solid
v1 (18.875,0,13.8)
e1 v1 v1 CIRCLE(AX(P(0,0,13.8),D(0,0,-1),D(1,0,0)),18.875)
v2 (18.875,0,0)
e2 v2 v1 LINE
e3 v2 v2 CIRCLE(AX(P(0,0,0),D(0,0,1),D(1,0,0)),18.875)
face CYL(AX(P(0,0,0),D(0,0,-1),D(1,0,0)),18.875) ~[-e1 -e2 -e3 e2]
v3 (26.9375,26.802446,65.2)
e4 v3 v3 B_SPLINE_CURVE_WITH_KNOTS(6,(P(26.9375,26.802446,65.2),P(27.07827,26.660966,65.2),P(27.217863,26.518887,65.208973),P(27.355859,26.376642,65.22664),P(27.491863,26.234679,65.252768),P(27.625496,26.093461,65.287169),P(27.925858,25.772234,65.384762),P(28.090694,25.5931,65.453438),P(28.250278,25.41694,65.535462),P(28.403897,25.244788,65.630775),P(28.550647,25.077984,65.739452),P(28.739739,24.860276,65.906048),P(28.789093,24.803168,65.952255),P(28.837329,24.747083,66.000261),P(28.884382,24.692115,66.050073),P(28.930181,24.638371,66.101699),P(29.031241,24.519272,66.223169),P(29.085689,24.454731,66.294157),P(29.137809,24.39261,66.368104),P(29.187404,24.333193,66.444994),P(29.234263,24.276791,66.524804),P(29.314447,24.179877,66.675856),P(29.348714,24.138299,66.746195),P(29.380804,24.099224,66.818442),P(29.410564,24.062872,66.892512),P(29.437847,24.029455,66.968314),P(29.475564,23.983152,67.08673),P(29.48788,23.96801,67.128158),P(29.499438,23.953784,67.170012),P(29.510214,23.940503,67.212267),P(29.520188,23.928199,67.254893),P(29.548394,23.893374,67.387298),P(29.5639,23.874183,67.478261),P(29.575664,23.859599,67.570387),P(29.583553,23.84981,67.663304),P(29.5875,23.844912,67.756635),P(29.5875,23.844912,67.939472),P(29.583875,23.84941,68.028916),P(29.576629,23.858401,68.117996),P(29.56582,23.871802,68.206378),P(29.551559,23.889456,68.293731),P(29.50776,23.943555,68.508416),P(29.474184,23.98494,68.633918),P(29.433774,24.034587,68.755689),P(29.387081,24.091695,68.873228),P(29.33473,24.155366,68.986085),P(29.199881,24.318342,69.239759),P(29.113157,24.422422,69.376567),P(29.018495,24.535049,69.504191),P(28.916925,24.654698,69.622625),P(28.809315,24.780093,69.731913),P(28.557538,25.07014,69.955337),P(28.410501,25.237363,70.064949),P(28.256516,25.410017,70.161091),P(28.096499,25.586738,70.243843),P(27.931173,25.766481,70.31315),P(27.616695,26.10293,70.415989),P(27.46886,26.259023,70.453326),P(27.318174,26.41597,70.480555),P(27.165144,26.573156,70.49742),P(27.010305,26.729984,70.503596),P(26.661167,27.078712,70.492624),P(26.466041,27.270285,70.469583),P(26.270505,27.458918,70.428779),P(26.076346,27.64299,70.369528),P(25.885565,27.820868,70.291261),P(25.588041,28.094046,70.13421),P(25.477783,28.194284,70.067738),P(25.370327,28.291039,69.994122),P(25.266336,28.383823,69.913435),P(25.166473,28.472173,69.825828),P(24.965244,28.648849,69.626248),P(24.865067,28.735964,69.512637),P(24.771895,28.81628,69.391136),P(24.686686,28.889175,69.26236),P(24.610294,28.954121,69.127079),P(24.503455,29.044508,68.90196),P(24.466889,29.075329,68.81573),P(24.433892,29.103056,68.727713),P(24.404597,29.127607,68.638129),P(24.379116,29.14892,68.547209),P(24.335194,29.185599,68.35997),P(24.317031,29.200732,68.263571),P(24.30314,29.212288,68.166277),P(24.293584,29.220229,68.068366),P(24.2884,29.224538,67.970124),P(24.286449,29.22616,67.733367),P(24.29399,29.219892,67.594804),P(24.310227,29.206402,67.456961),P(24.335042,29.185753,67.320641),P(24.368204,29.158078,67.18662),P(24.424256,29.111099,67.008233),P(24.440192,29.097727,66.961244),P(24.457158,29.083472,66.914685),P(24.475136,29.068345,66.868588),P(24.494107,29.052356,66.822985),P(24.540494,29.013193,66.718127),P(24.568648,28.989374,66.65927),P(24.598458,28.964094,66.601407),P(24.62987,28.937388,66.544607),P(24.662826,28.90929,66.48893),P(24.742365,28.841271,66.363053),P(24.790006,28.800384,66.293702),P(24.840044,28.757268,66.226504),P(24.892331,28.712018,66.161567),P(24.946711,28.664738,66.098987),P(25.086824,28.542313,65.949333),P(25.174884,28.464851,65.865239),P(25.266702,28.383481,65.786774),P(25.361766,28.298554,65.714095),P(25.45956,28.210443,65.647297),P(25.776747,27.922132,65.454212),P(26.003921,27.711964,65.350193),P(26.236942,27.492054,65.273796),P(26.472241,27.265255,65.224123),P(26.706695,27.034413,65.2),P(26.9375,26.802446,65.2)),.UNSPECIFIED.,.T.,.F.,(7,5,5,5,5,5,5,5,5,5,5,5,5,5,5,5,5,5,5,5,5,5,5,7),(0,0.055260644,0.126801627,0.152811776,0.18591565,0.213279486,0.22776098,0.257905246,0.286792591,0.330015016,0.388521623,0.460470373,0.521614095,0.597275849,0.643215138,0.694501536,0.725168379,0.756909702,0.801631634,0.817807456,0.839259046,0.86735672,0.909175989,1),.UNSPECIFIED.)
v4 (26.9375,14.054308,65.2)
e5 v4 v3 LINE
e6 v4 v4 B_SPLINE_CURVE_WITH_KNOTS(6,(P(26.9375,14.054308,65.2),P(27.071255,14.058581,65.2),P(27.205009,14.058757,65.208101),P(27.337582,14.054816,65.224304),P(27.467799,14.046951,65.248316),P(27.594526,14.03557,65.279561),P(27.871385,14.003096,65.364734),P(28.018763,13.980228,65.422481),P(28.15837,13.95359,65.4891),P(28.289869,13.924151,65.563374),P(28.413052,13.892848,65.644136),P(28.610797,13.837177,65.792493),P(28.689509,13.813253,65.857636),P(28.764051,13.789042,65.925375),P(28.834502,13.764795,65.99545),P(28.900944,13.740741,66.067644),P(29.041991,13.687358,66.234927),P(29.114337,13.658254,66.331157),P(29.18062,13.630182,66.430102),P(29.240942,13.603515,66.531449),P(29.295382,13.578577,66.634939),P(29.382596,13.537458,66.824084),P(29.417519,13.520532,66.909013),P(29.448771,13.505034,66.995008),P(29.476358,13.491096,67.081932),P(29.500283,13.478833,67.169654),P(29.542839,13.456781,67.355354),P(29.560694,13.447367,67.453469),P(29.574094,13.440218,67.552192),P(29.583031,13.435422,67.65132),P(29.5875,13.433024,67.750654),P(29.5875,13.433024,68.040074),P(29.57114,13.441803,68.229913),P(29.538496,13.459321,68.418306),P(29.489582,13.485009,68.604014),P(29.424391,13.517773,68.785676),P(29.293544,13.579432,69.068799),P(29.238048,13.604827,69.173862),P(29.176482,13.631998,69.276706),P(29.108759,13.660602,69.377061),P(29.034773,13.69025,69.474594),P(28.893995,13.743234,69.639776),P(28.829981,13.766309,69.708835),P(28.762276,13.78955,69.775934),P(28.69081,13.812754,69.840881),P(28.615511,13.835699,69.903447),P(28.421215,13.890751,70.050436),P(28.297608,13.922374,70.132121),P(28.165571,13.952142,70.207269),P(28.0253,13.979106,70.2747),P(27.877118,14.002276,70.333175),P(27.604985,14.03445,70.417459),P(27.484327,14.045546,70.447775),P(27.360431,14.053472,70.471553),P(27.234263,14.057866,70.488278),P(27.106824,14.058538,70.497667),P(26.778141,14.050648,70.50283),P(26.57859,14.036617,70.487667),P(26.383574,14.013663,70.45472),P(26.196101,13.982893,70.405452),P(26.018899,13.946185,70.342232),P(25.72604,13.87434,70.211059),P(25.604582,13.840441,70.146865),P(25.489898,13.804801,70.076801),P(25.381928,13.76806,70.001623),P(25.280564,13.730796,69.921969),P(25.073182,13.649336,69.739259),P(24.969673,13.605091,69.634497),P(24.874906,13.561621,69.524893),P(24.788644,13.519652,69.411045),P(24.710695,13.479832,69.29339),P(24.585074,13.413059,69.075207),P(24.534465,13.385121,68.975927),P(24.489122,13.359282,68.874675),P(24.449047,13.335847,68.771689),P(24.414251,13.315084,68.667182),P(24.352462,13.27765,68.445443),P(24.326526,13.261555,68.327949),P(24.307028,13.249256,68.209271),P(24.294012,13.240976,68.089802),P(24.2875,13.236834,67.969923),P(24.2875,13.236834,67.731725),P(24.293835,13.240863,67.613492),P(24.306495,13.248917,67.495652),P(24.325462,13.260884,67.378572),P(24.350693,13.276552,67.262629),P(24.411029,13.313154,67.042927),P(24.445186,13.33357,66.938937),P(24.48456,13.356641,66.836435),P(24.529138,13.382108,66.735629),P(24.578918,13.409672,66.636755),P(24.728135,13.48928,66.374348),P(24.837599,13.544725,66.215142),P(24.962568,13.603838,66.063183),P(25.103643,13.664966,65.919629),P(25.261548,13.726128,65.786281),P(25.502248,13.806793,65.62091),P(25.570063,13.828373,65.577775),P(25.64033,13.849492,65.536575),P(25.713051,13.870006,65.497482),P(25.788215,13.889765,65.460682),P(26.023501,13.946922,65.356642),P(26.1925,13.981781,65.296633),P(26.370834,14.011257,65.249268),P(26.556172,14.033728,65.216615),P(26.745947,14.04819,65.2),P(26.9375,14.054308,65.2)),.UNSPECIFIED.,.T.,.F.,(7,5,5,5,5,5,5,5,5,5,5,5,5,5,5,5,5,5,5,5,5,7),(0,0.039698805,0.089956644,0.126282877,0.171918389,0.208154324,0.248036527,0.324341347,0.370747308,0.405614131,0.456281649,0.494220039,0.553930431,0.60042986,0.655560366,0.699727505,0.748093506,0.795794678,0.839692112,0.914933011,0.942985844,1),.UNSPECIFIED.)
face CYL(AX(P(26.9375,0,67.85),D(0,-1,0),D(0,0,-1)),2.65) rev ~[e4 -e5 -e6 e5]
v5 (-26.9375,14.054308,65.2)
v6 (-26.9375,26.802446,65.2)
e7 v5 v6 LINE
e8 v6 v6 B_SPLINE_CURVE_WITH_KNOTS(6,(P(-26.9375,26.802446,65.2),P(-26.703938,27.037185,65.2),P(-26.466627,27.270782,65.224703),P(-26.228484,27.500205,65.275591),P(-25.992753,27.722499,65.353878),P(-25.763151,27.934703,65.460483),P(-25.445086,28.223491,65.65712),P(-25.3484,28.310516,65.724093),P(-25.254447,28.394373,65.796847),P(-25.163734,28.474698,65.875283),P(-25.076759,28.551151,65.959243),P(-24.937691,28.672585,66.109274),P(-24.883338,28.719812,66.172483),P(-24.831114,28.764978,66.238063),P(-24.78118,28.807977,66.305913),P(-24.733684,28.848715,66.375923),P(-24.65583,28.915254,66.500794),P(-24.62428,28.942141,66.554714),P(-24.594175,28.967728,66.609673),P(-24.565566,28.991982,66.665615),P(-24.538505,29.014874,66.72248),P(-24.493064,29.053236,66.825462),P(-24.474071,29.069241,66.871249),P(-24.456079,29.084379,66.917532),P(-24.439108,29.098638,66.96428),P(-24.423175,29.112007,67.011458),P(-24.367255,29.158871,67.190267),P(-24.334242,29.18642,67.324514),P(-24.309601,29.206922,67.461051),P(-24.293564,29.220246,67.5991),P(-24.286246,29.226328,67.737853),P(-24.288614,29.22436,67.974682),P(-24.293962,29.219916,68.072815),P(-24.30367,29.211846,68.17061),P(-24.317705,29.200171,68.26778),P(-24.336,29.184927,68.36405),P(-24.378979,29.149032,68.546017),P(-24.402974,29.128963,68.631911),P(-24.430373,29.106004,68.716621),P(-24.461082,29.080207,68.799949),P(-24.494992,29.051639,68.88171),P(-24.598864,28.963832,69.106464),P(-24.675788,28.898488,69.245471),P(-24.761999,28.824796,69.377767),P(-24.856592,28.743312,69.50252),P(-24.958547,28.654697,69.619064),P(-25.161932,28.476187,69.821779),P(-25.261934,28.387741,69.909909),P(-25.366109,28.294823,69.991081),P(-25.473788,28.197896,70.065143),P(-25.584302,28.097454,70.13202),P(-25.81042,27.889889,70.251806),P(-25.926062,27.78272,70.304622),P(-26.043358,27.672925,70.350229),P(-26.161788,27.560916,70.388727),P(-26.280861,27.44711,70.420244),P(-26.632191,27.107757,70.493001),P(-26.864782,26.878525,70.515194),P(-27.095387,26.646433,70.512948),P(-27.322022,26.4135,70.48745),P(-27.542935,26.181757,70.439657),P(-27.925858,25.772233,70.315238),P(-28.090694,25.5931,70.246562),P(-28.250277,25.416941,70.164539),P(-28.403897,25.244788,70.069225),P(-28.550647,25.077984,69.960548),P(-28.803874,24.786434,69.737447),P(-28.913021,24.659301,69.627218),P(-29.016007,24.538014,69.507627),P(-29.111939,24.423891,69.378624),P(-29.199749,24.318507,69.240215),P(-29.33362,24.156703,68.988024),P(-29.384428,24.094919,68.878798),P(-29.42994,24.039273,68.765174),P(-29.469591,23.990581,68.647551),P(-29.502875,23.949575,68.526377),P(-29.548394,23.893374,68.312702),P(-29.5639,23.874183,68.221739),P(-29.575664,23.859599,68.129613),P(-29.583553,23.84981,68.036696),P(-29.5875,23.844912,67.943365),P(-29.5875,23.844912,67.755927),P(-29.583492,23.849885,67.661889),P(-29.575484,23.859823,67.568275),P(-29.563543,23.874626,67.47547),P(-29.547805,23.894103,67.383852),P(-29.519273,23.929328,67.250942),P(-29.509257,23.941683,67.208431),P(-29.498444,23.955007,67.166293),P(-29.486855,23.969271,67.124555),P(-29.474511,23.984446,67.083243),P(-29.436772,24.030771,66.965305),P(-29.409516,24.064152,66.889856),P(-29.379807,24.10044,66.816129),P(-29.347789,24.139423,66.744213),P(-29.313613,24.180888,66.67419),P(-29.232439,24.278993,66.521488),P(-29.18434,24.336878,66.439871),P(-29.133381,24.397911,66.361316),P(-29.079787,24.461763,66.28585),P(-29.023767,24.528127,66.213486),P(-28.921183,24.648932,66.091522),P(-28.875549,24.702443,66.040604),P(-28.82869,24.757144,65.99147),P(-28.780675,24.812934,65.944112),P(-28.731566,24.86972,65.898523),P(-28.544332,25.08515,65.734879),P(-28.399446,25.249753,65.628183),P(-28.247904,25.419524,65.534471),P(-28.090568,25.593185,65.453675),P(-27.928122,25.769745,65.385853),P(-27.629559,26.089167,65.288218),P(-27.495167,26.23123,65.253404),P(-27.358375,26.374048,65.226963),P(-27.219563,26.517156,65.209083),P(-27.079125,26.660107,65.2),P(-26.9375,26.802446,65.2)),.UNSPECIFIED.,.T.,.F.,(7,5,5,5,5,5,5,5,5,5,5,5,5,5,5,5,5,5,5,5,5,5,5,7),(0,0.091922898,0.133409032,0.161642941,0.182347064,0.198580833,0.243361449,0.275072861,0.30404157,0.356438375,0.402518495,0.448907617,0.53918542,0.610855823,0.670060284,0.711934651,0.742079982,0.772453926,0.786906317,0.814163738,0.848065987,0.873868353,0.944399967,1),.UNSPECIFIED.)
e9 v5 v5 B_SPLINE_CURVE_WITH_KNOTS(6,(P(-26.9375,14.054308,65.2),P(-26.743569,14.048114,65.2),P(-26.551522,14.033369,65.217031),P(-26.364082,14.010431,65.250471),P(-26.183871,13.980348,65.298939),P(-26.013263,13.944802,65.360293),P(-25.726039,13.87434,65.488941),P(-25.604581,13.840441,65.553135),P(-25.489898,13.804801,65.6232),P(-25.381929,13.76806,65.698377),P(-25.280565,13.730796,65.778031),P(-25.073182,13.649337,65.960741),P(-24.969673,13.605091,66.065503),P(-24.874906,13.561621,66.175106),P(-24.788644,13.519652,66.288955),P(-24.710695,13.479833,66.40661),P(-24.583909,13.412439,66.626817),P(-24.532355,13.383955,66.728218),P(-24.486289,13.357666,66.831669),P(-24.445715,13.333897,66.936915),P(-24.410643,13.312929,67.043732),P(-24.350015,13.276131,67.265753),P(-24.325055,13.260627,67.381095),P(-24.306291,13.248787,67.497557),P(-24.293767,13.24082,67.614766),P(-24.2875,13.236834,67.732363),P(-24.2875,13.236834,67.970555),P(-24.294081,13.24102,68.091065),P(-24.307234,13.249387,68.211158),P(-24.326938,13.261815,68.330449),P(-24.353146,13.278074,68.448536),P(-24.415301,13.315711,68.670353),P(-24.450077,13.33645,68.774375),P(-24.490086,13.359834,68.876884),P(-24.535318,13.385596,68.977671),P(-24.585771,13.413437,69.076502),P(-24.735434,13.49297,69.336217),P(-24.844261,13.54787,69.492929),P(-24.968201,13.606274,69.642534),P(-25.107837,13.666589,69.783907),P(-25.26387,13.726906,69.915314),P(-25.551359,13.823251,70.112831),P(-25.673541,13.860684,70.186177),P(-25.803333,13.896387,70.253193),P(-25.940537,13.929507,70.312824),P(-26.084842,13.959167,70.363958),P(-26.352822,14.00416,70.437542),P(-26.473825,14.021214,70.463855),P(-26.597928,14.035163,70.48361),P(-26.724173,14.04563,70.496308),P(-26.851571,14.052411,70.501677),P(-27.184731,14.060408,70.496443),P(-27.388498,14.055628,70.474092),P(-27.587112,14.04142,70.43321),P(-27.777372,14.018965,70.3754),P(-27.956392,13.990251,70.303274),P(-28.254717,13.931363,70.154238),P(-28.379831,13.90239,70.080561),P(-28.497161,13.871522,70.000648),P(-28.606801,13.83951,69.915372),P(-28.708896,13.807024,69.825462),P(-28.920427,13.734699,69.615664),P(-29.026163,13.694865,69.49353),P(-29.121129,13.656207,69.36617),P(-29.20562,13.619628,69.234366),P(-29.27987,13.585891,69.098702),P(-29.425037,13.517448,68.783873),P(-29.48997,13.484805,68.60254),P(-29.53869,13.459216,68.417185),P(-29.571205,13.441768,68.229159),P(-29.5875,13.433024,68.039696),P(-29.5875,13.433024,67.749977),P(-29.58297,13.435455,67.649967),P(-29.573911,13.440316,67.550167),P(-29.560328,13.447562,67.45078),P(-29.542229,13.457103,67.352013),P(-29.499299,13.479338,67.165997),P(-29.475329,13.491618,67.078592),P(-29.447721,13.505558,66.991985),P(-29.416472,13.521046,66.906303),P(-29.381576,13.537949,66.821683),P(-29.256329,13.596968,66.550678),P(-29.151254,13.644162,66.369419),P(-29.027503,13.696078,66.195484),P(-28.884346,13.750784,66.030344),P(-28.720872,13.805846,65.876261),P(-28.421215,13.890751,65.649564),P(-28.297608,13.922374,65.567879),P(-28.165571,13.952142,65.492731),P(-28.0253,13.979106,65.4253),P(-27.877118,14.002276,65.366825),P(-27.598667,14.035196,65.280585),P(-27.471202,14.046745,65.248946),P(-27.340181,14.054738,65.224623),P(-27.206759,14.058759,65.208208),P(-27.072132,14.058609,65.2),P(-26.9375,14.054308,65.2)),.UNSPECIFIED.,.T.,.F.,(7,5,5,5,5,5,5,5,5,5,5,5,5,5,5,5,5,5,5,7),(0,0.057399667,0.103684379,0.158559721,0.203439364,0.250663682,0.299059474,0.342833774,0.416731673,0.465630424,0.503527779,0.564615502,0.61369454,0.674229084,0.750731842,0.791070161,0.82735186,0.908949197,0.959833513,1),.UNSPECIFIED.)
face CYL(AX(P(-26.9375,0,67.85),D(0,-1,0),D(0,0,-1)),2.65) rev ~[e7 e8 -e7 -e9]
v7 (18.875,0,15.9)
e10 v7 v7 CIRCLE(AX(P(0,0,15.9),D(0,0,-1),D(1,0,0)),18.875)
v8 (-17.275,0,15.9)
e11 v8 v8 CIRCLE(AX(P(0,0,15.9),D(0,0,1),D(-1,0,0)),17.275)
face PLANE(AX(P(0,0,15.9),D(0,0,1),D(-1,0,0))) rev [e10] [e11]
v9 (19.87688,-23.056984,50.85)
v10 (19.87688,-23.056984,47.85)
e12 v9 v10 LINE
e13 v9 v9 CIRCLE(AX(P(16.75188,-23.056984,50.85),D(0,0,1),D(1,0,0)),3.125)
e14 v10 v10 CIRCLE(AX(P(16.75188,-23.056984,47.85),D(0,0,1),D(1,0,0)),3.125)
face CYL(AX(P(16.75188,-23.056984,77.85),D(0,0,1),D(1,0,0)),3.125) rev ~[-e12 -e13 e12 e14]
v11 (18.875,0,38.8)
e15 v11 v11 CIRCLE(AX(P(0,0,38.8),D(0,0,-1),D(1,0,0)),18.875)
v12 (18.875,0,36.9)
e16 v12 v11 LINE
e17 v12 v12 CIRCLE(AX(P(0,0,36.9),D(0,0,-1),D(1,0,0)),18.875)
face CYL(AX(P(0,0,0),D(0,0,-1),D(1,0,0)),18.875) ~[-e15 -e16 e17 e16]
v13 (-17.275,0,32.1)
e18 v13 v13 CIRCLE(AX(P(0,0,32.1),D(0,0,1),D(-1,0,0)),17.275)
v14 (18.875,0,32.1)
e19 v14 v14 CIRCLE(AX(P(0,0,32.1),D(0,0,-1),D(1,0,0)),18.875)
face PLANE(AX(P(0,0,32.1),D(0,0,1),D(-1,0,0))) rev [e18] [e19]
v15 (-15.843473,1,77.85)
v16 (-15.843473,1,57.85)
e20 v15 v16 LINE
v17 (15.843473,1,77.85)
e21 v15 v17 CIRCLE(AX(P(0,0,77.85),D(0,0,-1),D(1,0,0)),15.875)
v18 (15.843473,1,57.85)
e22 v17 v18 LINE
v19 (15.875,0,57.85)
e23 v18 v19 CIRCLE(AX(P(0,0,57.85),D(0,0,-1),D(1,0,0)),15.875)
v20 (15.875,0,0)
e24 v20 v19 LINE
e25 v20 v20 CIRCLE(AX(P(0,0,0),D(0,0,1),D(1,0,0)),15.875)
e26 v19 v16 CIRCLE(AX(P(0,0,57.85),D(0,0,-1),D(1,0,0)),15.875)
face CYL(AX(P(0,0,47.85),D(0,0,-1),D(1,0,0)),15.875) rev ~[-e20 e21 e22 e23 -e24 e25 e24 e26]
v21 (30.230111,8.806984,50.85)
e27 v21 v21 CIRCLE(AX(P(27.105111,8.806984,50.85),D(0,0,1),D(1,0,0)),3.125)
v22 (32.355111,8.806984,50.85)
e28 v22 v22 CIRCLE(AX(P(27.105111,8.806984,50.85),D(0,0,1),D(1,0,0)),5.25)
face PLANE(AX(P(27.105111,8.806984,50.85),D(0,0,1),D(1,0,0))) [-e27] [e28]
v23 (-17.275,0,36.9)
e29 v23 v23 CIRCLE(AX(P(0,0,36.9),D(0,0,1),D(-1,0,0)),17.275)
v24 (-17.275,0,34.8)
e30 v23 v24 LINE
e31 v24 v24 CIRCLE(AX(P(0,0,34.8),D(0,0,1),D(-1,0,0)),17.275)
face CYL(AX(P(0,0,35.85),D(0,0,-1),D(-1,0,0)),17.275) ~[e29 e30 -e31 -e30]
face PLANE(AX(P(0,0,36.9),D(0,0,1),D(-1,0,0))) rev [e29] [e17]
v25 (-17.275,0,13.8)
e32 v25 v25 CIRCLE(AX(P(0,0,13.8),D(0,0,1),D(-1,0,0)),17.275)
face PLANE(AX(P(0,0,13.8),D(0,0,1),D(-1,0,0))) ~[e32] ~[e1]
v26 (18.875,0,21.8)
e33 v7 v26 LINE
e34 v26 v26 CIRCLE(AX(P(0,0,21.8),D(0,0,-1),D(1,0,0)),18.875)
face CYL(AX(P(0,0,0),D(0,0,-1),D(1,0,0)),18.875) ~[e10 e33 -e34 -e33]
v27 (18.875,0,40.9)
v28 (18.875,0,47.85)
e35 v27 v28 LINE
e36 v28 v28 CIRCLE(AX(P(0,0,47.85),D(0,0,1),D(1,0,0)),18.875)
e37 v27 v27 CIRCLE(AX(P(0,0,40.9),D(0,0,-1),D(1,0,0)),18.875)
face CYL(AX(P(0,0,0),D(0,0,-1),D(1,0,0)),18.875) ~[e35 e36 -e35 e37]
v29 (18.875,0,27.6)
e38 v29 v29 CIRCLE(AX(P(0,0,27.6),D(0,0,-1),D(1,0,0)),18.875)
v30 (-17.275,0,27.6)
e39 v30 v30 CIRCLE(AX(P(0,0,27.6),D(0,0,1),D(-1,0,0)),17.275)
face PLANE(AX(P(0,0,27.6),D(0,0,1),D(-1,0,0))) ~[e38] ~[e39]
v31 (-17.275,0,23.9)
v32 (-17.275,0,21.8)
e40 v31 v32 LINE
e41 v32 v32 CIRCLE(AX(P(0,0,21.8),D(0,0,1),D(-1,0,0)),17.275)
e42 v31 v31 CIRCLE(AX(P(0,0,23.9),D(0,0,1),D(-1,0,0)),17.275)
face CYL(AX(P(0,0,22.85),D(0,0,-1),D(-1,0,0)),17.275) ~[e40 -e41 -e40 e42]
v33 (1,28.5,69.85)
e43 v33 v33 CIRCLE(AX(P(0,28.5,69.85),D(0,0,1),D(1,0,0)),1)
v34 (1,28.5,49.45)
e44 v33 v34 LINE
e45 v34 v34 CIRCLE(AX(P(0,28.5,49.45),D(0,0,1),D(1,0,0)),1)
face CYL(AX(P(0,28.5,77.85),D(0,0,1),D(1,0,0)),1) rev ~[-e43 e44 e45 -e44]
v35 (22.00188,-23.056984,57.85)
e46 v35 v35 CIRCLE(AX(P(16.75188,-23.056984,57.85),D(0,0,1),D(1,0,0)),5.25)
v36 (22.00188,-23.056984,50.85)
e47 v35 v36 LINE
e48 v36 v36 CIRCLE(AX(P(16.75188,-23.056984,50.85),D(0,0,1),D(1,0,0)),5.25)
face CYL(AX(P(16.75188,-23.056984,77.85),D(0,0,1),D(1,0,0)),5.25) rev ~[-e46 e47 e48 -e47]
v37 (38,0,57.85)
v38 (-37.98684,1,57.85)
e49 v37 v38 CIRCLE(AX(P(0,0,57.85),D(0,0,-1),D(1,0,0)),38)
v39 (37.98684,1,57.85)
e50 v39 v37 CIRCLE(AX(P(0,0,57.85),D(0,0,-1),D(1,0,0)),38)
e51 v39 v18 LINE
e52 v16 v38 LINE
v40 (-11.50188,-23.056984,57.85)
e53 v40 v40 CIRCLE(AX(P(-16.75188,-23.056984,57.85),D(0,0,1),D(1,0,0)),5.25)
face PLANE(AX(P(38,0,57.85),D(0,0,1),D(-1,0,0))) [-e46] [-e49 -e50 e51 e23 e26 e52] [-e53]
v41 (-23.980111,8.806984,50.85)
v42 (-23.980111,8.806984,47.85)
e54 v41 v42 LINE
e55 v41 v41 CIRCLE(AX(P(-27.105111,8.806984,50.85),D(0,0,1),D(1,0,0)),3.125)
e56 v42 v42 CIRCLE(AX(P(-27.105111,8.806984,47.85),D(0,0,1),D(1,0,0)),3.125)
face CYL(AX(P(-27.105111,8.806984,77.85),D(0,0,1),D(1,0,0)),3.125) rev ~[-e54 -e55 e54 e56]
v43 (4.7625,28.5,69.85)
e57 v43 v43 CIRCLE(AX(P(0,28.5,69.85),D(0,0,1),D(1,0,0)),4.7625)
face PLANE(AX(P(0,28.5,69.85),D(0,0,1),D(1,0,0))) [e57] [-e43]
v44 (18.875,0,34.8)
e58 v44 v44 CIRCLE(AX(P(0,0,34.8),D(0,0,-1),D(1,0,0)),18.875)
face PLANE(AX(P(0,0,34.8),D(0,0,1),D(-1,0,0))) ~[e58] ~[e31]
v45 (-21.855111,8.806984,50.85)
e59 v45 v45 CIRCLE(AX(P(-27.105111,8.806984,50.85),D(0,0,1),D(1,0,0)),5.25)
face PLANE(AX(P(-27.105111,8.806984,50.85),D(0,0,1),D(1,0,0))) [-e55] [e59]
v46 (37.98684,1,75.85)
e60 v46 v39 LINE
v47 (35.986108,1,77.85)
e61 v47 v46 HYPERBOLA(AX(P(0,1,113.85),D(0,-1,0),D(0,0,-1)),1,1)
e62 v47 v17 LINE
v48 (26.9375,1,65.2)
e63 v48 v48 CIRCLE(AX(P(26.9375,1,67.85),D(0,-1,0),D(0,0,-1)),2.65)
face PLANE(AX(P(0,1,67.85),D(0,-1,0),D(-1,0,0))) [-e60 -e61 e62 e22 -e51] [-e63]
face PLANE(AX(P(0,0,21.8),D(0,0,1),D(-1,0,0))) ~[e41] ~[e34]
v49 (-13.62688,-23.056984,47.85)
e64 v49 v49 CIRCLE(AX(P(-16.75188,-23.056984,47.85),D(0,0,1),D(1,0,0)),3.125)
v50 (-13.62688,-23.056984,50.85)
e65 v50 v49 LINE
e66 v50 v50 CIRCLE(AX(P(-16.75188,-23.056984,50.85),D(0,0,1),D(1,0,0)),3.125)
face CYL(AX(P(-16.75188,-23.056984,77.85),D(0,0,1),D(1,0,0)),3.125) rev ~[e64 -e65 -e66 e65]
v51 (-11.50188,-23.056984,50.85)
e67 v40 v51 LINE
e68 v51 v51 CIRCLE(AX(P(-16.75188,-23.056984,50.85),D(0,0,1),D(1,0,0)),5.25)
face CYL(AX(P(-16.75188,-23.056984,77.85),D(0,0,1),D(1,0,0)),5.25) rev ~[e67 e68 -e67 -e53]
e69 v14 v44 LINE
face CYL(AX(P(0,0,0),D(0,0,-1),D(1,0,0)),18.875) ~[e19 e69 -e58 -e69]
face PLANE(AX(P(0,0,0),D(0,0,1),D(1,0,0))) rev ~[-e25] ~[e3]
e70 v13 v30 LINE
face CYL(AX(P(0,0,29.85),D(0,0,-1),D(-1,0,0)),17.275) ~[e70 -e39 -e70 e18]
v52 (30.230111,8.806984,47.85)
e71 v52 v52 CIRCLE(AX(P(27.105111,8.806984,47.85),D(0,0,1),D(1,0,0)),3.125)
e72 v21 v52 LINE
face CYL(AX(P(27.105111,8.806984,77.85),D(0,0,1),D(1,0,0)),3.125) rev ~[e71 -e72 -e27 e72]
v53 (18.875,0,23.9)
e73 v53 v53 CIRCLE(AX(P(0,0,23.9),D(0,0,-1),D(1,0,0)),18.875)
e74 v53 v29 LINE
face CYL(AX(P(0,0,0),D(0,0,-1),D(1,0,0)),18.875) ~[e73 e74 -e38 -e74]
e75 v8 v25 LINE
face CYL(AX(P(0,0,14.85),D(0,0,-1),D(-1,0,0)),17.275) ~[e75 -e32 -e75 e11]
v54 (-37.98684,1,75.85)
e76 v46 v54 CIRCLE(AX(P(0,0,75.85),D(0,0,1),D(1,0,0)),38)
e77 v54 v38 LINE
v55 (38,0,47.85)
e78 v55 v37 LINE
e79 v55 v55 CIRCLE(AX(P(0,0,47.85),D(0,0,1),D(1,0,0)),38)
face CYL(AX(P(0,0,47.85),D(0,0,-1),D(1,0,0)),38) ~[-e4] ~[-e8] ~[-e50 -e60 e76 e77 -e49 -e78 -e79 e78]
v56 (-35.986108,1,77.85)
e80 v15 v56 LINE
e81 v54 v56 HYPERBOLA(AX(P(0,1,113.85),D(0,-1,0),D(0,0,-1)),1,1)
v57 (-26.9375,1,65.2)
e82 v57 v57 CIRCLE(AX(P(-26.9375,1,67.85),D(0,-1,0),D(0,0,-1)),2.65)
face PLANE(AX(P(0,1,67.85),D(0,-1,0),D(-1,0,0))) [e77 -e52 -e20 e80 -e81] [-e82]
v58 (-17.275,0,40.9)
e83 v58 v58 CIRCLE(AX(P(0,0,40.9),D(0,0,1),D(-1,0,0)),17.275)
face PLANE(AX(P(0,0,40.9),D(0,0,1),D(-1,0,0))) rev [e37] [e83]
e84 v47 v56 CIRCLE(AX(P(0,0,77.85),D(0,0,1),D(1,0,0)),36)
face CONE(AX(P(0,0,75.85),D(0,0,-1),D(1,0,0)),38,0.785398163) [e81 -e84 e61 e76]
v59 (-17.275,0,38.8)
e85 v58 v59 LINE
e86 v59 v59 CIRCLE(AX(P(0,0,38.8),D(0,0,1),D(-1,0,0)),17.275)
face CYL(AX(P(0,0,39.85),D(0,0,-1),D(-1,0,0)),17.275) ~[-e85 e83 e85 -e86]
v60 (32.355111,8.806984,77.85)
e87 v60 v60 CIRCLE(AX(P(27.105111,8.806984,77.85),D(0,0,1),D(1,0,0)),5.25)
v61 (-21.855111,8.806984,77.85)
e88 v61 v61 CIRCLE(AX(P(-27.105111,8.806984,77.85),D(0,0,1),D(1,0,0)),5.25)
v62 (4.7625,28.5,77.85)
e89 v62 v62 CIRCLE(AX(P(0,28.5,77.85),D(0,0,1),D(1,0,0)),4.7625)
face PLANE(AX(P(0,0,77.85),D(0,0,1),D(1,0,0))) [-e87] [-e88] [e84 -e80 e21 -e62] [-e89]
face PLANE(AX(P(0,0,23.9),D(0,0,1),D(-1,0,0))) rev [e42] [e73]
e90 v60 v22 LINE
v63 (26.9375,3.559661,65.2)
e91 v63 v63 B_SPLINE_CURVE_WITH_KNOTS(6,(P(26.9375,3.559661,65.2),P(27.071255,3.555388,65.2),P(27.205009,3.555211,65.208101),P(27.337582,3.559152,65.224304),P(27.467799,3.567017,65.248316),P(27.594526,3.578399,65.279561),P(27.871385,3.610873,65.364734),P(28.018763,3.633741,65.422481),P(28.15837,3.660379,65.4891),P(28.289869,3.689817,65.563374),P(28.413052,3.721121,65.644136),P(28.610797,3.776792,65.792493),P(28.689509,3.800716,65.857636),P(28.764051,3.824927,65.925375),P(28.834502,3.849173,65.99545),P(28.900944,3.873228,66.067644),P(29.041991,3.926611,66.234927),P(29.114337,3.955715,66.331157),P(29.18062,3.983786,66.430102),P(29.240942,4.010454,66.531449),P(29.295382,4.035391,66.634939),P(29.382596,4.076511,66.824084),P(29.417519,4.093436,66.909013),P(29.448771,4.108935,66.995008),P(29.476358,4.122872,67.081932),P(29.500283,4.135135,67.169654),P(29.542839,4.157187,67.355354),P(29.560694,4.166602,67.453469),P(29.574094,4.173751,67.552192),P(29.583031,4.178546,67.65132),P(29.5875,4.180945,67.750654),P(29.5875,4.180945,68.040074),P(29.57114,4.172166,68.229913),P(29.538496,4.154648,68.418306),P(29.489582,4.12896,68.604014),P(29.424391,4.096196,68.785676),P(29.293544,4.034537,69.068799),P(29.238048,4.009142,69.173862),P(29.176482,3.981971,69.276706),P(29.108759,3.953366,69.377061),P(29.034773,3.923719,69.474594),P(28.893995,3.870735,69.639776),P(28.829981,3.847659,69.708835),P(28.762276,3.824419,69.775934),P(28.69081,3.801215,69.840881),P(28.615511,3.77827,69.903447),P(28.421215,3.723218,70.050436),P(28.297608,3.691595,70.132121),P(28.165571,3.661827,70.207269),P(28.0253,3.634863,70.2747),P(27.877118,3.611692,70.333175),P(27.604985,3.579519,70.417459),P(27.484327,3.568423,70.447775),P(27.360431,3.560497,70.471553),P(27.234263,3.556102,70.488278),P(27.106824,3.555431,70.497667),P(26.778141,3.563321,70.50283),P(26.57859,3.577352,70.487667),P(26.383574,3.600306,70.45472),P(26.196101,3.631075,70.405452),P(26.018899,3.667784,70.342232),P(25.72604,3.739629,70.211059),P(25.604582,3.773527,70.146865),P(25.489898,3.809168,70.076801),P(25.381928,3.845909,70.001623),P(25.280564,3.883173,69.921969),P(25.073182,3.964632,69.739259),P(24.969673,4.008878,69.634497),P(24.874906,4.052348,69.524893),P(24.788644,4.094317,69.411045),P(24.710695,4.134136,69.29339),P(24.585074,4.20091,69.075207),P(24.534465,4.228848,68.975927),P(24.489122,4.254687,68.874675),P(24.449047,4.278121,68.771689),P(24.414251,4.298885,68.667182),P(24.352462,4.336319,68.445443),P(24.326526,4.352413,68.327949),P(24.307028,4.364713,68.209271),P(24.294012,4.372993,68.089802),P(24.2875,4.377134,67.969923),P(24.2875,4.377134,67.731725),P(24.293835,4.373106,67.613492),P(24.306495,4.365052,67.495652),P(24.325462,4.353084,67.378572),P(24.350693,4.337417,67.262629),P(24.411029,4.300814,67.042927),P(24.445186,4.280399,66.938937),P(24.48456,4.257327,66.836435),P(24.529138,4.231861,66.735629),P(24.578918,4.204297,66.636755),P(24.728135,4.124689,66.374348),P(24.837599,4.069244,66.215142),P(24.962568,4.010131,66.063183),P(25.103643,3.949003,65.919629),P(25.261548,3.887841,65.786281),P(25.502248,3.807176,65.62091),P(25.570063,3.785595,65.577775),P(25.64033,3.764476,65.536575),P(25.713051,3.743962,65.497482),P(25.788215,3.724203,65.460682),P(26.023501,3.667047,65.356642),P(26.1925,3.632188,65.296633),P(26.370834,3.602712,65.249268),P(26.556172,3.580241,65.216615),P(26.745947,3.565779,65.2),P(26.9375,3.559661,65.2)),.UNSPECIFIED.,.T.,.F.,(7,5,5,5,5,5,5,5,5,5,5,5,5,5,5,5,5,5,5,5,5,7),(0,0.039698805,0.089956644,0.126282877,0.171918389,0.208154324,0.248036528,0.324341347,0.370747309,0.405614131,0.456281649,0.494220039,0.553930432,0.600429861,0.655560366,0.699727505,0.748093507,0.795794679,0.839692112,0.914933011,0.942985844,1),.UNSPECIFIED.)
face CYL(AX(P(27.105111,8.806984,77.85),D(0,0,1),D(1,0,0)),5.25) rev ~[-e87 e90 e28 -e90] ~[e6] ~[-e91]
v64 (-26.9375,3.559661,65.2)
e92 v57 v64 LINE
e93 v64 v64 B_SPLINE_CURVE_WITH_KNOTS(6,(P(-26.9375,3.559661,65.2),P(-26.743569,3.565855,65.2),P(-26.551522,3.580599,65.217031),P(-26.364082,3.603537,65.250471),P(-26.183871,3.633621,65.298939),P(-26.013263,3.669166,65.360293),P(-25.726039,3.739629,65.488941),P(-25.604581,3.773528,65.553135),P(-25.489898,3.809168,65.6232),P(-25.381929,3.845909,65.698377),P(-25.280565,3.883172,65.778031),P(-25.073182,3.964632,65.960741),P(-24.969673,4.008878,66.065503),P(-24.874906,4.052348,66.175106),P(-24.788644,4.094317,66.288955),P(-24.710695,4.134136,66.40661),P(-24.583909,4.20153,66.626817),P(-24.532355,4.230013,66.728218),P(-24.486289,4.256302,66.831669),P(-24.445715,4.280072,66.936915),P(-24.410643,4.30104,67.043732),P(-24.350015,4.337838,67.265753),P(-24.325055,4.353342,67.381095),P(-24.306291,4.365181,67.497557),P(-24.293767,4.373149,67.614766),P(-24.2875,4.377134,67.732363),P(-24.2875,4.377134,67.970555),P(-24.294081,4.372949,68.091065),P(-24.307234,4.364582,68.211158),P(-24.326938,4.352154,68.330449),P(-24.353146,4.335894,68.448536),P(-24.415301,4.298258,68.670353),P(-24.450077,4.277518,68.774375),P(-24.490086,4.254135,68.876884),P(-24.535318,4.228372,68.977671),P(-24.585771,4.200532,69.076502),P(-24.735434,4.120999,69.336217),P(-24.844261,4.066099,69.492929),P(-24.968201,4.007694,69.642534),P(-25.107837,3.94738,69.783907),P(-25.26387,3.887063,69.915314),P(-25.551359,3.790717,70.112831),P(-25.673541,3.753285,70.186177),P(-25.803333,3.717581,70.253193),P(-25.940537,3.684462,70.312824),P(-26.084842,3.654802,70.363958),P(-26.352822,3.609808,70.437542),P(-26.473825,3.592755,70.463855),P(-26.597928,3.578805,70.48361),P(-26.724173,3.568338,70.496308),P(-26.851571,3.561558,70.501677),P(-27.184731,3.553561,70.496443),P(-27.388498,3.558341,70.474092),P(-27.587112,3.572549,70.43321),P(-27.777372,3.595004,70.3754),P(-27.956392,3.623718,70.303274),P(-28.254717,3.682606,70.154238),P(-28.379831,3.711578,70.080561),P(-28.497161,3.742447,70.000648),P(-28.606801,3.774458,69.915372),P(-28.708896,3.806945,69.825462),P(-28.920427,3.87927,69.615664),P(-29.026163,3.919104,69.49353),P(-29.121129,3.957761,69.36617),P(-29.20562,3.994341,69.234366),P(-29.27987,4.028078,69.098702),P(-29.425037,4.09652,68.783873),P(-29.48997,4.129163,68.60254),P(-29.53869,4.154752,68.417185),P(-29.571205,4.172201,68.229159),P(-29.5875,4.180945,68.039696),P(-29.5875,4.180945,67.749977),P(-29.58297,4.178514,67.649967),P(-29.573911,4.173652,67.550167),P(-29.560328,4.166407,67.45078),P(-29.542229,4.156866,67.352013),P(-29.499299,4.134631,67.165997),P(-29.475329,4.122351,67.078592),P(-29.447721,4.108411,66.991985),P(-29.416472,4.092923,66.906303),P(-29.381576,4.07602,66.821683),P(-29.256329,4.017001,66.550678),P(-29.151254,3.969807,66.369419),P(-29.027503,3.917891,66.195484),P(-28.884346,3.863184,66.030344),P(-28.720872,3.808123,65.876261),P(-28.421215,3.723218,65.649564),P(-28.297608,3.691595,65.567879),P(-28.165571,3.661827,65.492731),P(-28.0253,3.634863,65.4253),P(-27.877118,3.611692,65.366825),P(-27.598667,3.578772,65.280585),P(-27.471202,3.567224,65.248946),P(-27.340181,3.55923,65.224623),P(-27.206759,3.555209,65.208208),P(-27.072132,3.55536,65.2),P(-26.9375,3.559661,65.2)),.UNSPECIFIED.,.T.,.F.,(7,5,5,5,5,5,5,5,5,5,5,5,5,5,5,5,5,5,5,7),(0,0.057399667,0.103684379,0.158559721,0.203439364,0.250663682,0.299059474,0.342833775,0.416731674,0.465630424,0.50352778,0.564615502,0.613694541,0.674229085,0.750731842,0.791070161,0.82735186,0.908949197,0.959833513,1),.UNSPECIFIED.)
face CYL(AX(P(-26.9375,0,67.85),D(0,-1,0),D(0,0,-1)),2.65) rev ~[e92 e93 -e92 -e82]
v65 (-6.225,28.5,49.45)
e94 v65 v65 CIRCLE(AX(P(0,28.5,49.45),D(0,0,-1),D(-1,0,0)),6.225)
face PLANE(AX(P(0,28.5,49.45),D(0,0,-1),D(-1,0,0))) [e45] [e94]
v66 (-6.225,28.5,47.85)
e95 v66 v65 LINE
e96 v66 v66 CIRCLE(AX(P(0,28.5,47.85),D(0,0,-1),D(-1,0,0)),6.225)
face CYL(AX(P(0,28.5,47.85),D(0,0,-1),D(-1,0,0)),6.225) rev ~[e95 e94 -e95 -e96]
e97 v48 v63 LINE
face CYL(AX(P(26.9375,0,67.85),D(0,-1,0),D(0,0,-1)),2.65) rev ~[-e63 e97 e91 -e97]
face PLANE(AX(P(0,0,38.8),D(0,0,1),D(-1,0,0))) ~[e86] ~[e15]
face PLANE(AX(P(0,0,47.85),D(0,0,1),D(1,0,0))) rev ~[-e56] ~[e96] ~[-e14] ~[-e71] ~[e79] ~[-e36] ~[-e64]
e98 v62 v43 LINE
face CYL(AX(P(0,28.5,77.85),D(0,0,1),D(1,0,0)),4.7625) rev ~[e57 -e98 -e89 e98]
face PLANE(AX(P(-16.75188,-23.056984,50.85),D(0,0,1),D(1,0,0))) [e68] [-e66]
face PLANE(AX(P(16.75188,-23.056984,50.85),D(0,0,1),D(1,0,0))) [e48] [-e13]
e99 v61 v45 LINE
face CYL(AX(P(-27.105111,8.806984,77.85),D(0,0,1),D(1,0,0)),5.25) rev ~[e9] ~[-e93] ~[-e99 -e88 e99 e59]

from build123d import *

# Parameters (mm, degrees)
SKETCH1_R           = 18.875
SKETCH1_R_2         = 15.875
BOSS_EXTRUDE1_DEPTH = 47.85
SKETCH2_R           = 38
BOSS_EXTRUDE2_DEPTH = 30
SKETCH3_R           = 15.875
CUT_EXTRUDE1_DEPTH  = 47.85
SKETCH4_W           = 76
SKETCH4_H           = 20
CUT_EXTRUDE2_DEPTH  = 47.85
SKETCH5_R           = 2.65
CUT_EXTRUDE3_DEPTH  = 47.85
SKETCH11_R          = 1
CUT_EXTRUDE4_DEPTH  = 30
SKETCH12_R          = 4.7625
CUT_EXTRUDE5_DEPTH  = 8
SKETCH13_W          = 2.1
SKETCH13_H          = 3.2
SKETCH13_W_2        = 4.5
SKETCH13_H_2        = 2.2
SKETCH18_R          = 3.125
CUT_EXTRUDE8_DEPTH  = 30
SKETCH19_R          = 5.25
CUT_EXTRUDE9_DEPTH  = 27
SKETCH27_R          = 6.225
CUT_EXTRUDE12_DEPTH = 1.6
CHAMFER1_SIZE       = 2
SKETCH28_W          = 76
SKETCH28_H          = 20
CUT_EXTRUDE13_DEPTH = 1


with BuildPart() as part:
    # Sketch1 → Boss-Extrude1 (new body)
    with BuildSketch(Plane.XY):
        Circle(SKETCH1_R)
        Circle(SKETCH1_R_2, mode=Mode.SUBTRACT)
    extrude(amount=BOSS_EXTRUDE1_DEPTH)

    # Sketch2 → Boss-Extrude2 (add)
    with BuildSketch(Plane.XY.offset(47.85)):
        Circle(SKETCH2_R)
    extrude(amount=BOSS_EXTRUDE2_DEPTH)

    # Sketch3 → Cut-Extrude1 (cut)
    with BuildSketch(Plane(origin=(0, 0, 47.85), x_dir=(-1, 0, 0), z_dir=(0, 0, -1))):
        with Locations(Location((0, 0, 0), (0, 0, 180))):
            Circle(SKETCH3_R)
    extrude(amount=-CUT_EXTRUDE1_DEPTH, mode=Mode.SUBTRACT)

    # Sketch4 → Cut-Extrude2 (cut)
    with BuildSketch(Plane(origin=(0, 0, 0), x_dir=(1, 0, 0), z_dir=(0, 1, 0))):
        with Locations((0, -67.85)):
            Rectangle(SKETCH4_W, SKETCH4_H)
    extrude(amount=-CUT_EXTRUDE2_DEPTH, mode=Mode.SUBTRACT)

    # Sketch5 → Cut-Extrude3 (cut)
    with BuildSketch(Plane(origin=(0, 0, 0), x_dir=(-1, 0, 0), z_dir=(0, -1, 0))):
        with Locations(Location((26.9375, -67.85, 0), (0, 0, 90))):
            Circle(SKETCH5_R)
        with Locations(Location((-26.9375, -67.85, 0), (0, 0, 90))):
            Circle(SKETCH5_R)
    extrude(amount=-CUT_EXTRUDE3_DEPTH, mode=Mode.SUBTRACT)

    # Sketch11 → Cut-Extrude4 (cut)
    with BuildSketch(Plane.XY.offset(77.85)):
        with Locations((0, 28.5)):
            Circle(SKETCH11_R)
    extrude(amount=-CUT_EXTRUDE4_DEPTH, mode=Mode.SUBTRACT)

    # Sketch12 → Cut-Extrude5 (cut)
    with BuildSketch(Plane.XY.offset(77.85)):
        with Locations((0, 28.5)):
            Circle(SKETCH12_R)
    extrude(amount=-CUT_EXTRUDE5_DEPTH, mode=Mode.SUBTRACT)

    # Sketch13 → Cut-Revolve1 (revolve, cut)
    with BuildSketch(Plane(origin=(0, 0, 0), x_dir=(0, 0, -1), z_dir=(1, 0, 0)), mode=Mode.PRIVATE) as cut_revolve1_sk:
        with Locations((-14.85, 18.875)):
            Rectangle(SKETCH13_W, SKETCH13_H)
        with Locations((-22.85, 18.875)):
            Rectangle(SKETCH13_W, SKETCH13_H)
        with Locations((-35.85, 18.875)):
            Rectangle(SKETCH13_W, SKETCH13_H)
        with Locations((-39.85, 18.875)):
            Rectangle(SKETCH13_W, SKETCH13_H)
        with Locations((-29.85, 18.375)):
            Rectangle(SKETCH13_W_2, SKETCH13_H_2)
    revolve(cut_revolve1_sk.sketch.rotate(Axis((0, 0, 0), (0, 0, 1)), 90), axis=Axis((0, 0, 0), (0, 0, 1)), mode=Mode.SUBTRACT)

    # Sketch18 → Cut-Extrude8 (cut)
    with BuildSketch(Plane.XY.offset(77.85)):
        with Locations((27.105110714, 8.80698434)):
            Circle(SKETCH18_R)
        with Locations((16.75187969, -23.05698434)):
            Circle(SKETCH18_R)
        with Locations((-16.75187969, -23.05698434)):
            Circle(SKETCH18_R)
        with Locations((-27.105110714, 8.80698434)):
            Circle(SKETCH18_R)
    extrude(amount=-CUT_EXTRUDE8_DEPTH, mode=Mode.SUBTRACT)

    # Sketch19 → Cut-Extrude9 (cut)
    with BuildSketch(Plane.XY.offset(77.85)):
        with Locations((27.105110714, 8.80698434)):
            Circle(SKETCH19_R)
        with Locations((16.75187969, -23.05698434)):
            Circle(SKETCH19_R)
        with Locations((-16.75187969, -23.05698434)):
            Circle(SKETCH19_R)
        with Locations((-27.105110714, 8.80698434)):
            Circle(SKETCH19_R)
    extrude(amount=-CUT_EXTRUDE9_DEPTH, mode=Mode.SUBTRACT)

    # Sketch27 → Cut-Extrude12 (cut)
    with BuildSketch(Plane(origin=(0, 0, 47.85), x_dir=(-1, 0, 0), z_dir=(0, 0, -1))):
        with Locations((0, 28.5)):
            Circle(SKETCH27_R)
    extrude(amount=-CUT_EXTRUDE12_DEPTH, mode=Mode.SUBTRACT)

    # Chamfer1
    chamfer1_edges = [part.edges().sort_by_distance(p)[0] for p in [
        (0, 38, 77.85),
    ]]
    chamfer(chamfer1_edges, length=CHAMFER1_SIZE)

    # Sketch28 → Cut-Extrude13 (cut)
    with BuildSketch(Plane(origin=(0, 0, 0), x_dir=(-1, 0, 0), z_dir=(0, -1, 0))):
        with Locations((0, -67.85)):
            Rectangle(SKETCH28_W, SKETCH28_H)
    extrude(amount=-CUT_EXTRUDE13_DEPTH, mode=Mode.SUBTRACT)


solid = part.part
